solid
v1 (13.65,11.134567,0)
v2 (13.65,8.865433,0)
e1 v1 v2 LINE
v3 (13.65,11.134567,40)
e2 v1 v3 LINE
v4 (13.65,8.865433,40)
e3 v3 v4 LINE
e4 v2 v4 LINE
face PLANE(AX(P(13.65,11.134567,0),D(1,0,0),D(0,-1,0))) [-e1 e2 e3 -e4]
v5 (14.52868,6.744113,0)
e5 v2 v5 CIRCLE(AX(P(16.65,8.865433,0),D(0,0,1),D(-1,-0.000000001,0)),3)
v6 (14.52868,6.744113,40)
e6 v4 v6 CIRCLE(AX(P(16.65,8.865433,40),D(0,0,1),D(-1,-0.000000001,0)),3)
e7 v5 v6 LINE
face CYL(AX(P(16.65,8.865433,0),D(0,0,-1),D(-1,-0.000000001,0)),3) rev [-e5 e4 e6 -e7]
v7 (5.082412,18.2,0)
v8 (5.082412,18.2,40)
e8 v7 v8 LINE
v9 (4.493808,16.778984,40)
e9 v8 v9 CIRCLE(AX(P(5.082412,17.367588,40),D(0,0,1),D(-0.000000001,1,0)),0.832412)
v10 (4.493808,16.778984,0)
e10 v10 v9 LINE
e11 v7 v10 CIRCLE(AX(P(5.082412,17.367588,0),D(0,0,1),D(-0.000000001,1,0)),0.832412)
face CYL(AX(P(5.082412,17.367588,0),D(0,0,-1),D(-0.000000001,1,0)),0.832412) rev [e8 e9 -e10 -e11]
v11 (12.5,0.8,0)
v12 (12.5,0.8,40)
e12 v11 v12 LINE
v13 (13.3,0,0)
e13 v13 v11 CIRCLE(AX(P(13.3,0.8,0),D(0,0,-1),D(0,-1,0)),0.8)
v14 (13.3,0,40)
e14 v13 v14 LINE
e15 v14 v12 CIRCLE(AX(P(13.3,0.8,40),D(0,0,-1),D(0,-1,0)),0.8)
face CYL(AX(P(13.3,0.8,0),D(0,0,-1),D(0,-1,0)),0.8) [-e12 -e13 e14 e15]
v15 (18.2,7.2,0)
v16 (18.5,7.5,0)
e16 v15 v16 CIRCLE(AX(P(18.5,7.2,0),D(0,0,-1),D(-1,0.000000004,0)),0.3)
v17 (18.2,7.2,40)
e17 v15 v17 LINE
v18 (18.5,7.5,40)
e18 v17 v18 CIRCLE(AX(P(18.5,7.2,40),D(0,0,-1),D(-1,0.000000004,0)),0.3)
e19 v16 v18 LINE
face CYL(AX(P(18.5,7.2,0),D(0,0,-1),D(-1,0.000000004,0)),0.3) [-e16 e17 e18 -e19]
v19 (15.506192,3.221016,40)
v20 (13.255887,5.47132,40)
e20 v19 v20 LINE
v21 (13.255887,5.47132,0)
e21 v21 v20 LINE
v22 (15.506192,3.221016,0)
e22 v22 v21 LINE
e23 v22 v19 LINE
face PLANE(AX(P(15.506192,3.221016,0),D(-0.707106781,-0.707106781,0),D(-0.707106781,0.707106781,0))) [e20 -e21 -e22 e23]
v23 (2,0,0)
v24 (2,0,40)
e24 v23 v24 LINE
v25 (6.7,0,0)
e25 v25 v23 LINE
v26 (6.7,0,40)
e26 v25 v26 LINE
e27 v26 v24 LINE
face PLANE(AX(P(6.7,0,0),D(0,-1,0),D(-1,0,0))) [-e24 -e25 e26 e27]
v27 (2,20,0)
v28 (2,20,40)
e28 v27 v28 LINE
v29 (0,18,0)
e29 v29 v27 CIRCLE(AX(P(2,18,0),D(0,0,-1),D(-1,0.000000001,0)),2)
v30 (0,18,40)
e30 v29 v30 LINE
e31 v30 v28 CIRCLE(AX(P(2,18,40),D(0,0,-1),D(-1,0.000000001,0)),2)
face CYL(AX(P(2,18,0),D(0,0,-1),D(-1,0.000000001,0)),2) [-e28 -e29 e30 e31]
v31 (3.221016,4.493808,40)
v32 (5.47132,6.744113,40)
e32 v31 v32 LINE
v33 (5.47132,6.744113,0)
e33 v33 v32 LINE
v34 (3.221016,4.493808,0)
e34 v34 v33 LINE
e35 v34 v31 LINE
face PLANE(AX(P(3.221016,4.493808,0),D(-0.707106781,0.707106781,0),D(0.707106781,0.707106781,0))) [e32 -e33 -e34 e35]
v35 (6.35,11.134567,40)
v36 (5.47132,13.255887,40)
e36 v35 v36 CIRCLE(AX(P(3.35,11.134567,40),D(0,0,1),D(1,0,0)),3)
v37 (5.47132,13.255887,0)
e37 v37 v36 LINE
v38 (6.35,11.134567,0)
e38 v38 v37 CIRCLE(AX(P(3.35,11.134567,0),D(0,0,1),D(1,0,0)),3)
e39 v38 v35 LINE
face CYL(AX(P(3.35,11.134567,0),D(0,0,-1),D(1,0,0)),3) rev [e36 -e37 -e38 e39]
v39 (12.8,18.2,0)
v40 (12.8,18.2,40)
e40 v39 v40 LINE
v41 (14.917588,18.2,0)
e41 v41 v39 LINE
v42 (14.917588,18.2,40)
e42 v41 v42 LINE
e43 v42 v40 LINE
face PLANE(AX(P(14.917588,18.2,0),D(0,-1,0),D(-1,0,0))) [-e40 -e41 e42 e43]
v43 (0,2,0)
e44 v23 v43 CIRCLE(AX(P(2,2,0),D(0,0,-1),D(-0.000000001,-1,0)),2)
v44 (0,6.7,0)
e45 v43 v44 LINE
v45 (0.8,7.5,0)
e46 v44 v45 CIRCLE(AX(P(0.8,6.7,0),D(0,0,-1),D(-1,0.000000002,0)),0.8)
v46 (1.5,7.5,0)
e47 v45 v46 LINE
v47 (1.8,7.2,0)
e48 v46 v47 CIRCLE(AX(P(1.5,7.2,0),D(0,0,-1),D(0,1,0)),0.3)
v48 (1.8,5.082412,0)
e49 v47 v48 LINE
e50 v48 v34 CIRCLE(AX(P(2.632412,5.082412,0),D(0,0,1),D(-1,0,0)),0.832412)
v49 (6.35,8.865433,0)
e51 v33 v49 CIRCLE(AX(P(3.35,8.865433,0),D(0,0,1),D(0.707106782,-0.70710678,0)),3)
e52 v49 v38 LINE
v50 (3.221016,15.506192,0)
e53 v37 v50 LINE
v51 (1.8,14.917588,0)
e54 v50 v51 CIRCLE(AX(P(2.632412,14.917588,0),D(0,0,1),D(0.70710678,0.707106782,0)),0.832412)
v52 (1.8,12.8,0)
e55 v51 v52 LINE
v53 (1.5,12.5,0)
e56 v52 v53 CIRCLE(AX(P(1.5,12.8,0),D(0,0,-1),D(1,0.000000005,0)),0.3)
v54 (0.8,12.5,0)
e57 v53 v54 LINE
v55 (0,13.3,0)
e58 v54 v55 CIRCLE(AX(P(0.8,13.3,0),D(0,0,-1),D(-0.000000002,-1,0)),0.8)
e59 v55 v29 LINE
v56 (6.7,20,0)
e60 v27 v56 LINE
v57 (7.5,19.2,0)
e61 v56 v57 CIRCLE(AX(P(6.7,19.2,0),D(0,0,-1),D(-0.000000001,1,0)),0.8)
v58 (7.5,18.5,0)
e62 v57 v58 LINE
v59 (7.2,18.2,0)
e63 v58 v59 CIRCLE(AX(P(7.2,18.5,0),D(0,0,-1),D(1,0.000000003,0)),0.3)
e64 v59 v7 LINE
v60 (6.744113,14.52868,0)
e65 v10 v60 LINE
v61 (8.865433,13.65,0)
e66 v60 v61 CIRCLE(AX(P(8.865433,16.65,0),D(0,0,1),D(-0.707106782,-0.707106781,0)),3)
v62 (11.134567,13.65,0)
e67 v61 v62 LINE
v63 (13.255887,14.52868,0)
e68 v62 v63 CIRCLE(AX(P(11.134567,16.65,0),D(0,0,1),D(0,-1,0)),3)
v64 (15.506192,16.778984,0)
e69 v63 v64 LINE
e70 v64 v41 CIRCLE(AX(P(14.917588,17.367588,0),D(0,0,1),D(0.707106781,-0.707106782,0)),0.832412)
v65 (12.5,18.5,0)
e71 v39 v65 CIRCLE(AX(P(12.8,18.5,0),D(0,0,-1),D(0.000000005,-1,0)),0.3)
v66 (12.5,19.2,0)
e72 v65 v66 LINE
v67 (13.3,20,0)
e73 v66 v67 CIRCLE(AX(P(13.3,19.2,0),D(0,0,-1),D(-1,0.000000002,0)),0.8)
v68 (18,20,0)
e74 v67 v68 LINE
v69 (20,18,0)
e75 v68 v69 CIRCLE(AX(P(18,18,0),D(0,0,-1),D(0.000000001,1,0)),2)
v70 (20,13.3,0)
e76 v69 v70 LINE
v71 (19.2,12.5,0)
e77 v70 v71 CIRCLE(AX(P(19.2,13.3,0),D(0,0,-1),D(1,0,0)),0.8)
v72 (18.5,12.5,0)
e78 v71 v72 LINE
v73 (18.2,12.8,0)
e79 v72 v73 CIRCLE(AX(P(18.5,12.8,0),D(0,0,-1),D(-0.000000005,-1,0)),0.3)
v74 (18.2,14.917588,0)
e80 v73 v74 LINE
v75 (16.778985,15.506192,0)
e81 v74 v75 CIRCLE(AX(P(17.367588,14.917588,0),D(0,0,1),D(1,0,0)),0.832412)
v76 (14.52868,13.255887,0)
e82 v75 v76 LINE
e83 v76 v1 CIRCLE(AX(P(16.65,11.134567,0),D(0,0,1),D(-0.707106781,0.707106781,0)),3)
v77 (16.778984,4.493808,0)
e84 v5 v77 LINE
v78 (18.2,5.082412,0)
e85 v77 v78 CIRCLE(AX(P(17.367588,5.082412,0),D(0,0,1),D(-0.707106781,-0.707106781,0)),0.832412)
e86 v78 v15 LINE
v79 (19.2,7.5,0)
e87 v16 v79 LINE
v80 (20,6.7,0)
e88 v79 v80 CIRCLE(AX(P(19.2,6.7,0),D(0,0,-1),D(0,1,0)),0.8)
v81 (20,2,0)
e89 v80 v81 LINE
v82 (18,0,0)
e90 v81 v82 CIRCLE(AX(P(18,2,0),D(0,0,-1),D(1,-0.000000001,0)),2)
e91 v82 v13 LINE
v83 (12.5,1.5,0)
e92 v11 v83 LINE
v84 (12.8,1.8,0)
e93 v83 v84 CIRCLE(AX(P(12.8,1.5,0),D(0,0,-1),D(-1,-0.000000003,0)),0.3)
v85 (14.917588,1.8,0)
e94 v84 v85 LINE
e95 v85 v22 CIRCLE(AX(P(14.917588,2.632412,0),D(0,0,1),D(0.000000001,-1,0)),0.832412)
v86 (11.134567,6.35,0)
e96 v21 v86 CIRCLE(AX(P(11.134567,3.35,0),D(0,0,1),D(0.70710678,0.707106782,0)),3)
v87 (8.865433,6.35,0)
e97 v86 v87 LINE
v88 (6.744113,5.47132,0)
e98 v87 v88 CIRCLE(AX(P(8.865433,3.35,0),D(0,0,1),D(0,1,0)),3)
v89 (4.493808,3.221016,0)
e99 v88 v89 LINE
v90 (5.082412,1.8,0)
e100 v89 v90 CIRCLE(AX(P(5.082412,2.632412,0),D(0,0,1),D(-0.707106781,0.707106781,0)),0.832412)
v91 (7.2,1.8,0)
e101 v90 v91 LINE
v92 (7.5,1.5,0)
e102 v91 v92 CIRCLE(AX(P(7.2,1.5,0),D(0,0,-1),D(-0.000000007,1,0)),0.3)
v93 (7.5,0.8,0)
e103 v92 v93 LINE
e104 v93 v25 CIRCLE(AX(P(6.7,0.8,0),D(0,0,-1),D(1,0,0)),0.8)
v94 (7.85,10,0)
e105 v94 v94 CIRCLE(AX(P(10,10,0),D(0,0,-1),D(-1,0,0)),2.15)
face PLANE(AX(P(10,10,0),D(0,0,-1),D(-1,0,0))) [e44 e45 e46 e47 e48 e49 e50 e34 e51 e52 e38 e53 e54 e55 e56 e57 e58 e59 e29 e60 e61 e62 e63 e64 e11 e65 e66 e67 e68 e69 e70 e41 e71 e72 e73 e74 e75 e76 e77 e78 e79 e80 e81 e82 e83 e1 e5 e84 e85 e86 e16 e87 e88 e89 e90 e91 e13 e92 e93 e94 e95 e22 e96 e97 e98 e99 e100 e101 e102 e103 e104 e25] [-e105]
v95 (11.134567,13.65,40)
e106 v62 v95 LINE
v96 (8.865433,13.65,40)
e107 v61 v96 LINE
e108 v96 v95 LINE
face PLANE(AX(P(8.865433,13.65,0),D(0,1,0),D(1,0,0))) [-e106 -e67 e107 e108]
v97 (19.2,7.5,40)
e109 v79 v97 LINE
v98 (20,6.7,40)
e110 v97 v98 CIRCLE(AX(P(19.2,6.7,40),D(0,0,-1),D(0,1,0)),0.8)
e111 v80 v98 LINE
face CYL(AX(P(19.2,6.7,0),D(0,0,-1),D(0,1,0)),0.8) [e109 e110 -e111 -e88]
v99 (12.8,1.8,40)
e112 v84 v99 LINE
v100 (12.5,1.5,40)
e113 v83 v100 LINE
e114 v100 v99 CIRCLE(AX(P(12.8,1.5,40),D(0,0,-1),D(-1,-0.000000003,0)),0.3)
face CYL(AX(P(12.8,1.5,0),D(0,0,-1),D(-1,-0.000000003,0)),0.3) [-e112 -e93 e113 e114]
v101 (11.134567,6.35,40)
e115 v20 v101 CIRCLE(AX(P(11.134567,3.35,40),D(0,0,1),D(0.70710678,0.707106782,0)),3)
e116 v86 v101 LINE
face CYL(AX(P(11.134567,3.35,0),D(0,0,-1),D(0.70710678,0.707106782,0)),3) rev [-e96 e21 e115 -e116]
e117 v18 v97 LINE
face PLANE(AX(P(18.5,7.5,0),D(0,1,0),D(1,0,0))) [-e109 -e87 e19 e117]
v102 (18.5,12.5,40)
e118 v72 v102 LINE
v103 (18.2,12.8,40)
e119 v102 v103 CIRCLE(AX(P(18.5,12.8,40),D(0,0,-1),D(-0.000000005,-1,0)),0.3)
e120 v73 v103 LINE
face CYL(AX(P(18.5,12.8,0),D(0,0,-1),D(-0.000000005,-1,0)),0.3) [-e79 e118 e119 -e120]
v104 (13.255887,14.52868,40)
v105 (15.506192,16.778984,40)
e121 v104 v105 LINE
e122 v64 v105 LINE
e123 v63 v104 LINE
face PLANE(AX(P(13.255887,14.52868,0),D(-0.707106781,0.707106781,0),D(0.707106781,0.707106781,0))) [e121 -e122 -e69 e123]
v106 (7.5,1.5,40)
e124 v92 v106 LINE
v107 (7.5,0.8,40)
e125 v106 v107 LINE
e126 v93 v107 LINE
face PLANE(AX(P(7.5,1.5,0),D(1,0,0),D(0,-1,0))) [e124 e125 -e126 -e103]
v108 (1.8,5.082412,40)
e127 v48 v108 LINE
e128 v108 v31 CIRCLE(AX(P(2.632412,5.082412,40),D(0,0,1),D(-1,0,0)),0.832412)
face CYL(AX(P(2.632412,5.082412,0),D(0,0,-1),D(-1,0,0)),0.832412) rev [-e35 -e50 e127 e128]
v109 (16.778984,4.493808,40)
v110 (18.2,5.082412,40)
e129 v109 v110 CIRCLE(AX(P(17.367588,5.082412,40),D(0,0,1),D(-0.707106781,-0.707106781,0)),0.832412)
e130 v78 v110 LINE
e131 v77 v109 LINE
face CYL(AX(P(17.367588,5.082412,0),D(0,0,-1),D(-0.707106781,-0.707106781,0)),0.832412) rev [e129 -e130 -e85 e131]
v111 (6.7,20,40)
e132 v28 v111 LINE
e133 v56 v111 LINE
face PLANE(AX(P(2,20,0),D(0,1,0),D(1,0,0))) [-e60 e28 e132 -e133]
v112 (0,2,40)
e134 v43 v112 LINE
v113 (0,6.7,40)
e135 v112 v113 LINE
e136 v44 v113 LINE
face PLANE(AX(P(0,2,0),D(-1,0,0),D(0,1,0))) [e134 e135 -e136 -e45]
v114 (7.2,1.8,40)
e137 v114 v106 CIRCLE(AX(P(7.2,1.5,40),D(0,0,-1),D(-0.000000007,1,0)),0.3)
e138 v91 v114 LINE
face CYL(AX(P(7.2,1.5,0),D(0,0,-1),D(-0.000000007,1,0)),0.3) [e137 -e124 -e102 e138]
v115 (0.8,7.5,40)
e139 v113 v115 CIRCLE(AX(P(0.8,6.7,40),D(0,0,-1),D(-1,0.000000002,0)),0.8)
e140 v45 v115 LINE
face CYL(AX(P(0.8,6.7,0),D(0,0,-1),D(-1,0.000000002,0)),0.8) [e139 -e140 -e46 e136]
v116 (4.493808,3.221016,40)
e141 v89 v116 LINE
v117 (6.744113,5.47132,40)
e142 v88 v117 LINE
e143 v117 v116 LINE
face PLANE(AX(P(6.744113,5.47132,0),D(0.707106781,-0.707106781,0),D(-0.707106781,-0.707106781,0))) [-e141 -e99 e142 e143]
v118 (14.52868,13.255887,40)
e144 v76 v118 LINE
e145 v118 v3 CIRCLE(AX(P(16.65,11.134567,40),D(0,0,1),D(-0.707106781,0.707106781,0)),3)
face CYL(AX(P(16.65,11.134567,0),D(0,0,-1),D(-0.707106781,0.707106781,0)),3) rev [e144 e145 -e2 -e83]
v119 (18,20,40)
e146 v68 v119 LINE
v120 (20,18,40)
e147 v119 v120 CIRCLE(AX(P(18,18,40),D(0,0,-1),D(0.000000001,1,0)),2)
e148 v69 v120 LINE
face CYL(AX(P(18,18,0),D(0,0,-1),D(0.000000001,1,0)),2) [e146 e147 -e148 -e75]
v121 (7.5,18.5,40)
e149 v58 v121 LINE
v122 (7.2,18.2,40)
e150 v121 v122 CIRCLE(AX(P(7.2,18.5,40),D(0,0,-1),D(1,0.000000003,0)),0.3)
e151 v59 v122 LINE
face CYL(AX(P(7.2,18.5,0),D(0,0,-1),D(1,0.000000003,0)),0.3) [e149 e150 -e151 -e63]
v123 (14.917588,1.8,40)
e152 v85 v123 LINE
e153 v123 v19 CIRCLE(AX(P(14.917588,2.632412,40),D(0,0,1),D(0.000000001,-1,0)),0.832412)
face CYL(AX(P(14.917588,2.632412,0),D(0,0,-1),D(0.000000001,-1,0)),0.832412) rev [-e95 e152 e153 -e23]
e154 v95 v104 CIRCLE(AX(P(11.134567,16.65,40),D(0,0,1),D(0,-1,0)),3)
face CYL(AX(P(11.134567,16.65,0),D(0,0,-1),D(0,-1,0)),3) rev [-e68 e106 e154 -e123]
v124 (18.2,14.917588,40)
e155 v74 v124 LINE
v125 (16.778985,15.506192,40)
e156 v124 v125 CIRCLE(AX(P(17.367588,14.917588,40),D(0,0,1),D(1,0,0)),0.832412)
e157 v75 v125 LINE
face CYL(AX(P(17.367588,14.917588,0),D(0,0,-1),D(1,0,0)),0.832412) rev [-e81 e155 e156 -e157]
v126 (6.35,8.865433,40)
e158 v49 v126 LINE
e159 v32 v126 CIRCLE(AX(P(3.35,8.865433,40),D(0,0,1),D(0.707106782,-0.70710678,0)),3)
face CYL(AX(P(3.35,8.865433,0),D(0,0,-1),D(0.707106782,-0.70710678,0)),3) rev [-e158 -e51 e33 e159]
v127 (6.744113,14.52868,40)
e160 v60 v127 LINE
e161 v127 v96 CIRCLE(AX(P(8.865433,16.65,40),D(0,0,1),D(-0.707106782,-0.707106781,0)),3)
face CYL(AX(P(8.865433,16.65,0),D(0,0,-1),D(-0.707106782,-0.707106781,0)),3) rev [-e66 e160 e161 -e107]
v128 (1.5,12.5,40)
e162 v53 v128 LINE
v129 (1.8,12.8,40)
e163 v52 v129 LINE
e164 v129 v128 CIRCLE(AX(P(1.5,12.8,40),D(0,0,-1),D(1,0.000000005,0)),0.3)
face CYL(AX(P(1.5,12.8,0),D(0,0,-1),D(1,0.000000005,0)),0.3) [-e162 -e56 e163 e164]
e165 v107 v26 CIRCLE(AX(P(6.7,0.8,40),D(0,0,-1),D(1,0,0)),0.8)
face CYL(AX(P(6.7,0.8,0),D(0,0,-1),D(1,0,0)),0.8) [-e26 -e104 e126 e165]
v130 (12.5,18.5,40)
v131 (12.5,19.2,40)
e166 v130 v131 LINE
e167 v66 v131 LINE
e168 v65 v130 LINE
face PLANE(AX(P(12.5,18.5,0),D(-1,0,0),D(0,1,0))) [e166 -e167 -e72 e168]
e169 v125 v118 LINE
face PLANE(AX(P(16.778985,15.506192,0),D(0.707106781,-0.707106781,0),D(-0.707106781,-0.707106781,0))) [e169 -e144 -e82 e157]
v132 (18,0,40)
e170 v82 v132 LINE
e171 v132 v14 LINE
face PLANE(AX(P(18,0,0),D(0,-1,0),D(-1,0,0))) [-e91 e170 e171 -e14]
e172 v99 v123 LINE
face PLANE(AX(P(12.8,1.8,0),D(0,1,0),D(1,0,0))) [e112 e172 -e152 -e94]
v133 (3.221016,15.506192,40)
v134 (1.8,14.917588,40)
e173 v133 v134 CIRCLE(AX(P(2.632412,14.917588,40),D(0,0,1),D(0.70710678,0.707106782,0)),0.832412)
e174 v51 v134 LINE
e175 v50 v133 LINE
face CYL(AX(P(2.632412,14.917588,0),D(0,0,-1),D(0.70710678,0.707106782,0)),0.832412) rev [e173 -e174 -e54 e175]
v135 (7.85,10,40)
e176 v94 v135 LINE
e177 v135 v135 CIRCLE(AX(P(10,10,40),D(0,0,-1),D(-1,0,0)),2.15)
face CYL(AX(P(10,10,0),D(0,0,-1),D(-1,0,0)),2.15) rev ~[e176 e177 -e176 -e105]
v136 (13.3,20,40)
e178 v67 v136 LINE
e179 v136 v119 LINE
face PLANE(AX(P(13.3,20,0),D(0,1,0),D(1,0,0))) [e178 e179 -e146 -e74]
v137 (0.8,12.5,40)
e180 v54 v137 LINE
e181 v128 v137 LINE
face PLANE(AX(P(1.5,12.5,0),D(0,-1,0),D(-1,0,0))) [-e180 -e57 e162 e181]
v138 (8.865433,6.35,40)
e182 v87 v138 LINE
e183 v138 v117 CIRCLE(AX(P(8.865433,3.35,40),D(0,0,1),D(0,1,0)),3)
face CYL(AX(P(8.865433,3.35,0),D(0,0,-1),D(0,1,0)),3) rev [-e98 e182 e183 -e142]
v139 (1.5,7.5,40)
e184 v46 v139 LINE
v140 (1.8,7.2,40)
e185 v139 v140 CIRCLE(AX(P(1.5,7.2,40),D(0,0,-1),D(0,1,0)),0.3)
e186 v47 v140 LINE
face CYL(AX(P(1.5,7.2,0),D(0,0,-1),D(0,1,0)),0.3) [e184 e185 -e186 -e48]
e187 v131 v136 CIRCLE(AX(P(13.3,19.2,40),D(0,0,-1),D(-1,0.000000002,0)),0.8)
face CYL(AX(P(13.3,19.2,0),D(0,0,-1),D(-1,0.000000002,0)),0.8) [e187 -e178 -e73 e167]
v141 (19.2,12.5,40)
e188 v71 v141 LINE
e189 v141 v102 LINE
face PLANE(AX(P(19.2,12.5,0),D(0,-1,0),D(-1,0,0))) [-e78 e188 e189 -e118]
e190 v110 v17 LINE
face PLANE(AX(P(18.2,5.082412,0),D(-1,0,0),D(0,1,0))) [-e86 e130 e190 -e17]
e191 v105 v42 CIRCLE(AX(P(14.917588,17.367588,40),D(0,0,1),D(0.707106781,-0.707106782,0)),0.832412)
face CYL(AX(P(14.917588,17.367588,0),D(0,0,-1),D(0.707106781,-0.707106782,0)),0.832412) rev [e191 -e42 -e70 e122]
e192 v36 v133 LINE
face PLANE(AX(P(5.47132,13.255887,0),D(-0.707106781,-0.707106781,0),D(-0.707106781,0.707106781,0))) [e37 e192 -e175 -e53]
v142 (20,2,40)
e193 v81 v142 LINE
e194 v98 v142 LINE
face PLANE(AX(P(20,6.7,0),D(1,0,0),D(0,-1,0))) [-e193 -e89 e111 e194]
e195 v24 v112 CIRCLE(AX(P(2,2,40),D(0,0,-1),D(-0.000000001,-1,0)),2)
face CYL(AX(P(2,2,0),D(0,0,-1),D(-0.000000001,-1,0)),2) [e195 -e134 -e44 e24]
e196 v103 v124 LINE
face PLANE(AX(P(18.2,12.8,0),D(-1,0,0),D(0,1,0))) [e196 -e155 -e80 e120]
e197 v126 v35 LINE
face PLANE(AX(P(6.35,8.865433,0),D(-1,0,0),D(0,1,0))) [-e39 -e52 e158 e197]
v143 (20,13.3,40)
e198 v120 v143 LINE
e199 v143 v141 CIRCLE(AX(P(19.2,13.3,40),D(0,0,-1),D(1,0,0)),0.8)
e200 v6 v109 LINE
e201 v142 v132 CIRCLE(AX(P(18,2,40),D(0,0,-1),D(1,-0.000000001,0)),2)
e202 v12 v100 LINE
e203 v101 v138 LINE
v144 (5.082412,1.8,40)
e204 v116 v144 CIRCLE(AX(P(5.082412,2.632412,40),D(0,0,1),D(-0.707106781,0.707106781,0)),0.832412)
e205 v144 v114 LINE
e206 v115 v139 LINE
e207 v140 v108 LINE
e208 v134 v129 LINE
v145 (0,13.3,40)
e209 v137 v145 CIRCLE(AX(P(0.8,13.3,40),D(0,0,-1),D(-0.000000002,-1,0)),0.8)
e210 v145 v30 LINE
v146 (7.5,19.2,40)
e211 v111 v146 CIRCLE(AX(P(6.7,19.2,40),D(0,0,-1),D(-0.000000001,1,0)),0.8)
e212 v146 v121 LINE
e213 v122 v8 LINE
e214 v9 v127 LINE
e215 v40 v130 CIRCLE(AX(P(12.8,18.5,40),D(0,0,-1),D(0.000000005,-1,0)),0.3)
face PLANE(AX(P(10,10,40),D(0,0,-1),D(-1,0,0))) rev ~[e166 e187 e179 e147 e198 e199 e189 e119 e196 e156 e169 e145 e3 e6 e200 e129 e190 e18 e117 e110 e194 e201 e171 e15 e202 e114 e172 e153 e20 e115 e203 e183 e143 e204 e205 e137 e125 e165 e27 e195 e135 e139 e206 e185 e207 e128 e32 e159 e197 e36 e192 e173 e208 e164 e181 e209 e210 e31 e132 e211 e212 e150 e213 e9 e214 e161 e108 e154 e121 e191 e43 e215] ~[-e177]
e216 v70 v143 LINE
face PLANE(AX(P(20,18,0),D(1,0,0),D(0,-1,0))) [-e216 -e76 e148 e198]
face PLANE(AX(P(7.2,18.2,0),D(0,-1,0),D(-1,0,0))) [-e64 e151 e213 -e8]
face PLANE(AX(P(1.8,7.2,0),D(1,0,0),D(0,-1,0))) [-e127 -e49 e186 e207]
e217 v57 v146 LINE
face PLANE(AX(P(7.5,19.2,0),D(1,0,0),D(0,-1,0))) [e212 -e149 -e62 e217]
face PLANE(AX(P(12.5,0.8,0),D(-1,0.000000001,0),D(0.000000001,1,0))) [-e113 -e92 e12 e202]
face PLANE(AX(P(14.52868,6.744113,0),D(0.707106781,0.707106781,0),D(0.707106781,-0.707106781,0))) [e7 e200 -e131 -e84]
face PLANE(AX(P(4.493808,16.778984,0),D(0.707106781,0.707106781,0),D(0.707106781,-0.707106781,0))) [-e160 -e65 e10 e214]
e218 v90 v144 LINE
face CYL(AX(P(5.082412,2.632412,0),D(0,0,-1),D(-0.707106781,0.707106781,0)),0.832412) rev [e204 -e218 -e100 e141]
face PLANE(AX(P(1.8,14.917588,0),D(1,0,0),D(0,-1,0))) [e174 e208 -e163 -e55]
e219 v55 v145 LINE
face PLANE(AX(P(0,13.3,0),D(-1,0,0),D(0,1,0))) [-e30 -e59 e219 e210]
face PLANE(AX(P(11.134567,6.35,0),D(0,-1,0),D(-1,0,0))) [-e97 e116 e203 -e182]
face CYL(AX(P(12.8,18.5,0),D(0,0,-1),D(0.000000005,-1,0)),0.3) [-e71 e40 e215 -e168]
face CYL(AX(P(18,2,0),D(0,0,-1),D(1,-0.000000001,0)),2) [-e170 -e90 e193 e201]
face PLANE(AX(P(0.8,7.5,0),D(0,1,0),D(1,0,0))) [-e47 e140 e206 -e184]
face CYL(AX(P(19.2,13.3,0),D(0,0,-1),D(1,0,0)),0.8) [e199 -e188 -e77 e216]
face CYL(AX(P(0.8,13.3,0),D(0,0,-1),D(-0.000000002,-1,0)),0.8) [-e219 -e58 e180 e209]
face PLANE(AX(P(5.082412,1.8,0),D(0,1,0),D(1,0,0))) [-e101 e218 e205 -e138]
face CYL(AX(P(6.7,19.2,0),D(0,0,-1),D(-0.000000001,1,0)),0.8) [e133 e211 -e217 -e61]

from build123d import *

# Parameters (mm, degrees)
SKETCH1_R           = 2.15
BOSS_EXTRUDE1_DEPTH = 40


with BuildPart() as part:
    # Sketch1 → Boss-Extrude1 (new body)
    with BuildSketch(Plane(origin=(0, 0, 0), x_dir=(-1, 0, 0), z_dir=(0, 0, -1))):
        with BuildLine():
            Line((-12.499999997, 0.800000003), (-12.499999998, 1.500000003))
            ThreePointArc((-12.499999998, 1.500000003), (-12.587867964, 1.712132039), (-12.8, 1.800000005))
            Line((-12.8, 1.800000005), (-14.9175884, 1.800000005))
            ThreePointArc((-14.9175884, 1.800000005), (-15.686636445, 2.313861481), (-15.506192291, 3.221015502))
            Line((-15.506192291, 3.221015502), (-13.255887451, 5.471320342))
            ThreePointArc((-13.255887451, 5.471320342), (-12.282617405, 6.121638595), (-11.134567109, 6.349999998))
            Line((-11.134567109, 6.349999998), (-8.865432906, 6.349999998))
            ThreePointArc((-8.865432906, 6.349999998), (-7.717382611, 6.121638596), (-6.744112565, 5.471320342))
            Line((-6.744112565, 5.471320342), (-4.493807727, 3.221015504))
            ThreePointArc((-4.493807727, 3.221015504), (-4.313363573, 2.313861481), (-5.082411619, 1.800000005))
            Line((-5.082411619, 1.800000005), (-7.20000001, 1.800000005))
            ThreePointArc((-7.20000001, 1.800000005), (-7.412132045, 1.71213204), (-7.50000001, 1.500000005))
            Line((-7.50000001, 1.500000005), (-7.50000001, 0.8))
            ThreePointArc((-7.50000001, 0.8), (-7.265685435, 0.234314575), (-6.70000001, 0))
            Line((-6.70000001, 0), (-2, 0))
            ThreePointArc((-2, 0), (-0.585786438, 0.585786438), (0, 2))
            Line((0, 2), (0, 6.699999998))
            ThreePointArc((0, 6.699999998), (-0.234314576, 7.265685424), (-0.800000003, 7.5))
            Line((-0.800000003, 7.5), (-1.500000007, 7.5))
            ThreePointArc((-1.500000007, 7.5), (-1.712132044, 7.412132033), (-1.80000001, 7.199999997))
            Line((-1.80000001, 7.199999997), (-1.80000001, 5.082411604))
            ThreePointArc((-1.80000001, 5.082411604), (-2.313861485, 4.313363559), (-3.221015507, 4.493807713))
            Line((-3.221015507, 4.493807713), (-5.471320347, 6.744112553))
            ThreePointArc((-5.471320347, 6.744112553), (-6.1216386, 7.717382599), (-6.350000003, 8.865432896))
            Line((-6.350000003, 8.865432896), (-6.350000003, 11.134567105))
            ThreePointArc((-6.350000003, 11.134567105), (-6.121638601, 12.2826174), (-5.471320347, 13.255887446))
            Line((-5.471320347, 13.255887446), (-3.221015511, 15.506192282))
            ThreePointArc((-3.221015511, 15.506192282), (-2.313861487, 15.686636436), (-1.80000001, 14.917588389))
            Line((-1.80000001, 14.917588389), (-1.80000001, 12.799999998))
            ThreePointArc((-1.80000001, 12.799999998), (-1.712132045, 12.587867963), (-1.50000001, 12.499999997))
            Line((-1.50000001, 12.499999997), (-0.8, 12.499999997))
            ThreePointArc((-0.8, 12.499999997), (-0.234314575, 12.734314573), (0, 13.299999998))
            Line((0, 13.299999998), (0, 18))
            ThreePointArc((0, 18), (-0.585786438, 19.414213562), (-2, 20))
            Line((-2, 20), (-6.700000008, 20))
            ThreePointArc((-6.700000008, 20), (-7.265685435, 19.765685424), (-7.50000001, 19.199999998))
            Line((-7.50000001, 19.199999998), (-7.50000001, 18.500000005))
            ThreePointArc((-7.50000001, 18.500000005), (-7.412132044, 18.287867969), (-7.200000008, 18.200000003))
            Line((-7.200000008, 18.200000003), (-5.082411595, 18.200000003))
            ThreePointArc((-5.082411595, 18.200000003), (-4.313363547, 17.686138525), (-4.493807702, 16.7789845))
            Line((-4.493807702, 16.7789845), (-6.744112543, 14.528679659))
            ThreePointArc((-6.744112543, 14.528679659), (-7.717382589, 13.878361405), (-8.865432885, 13.650000003))
            Line((-8.865432885, 13.650000003), (-11.134567111, 13.650000003))
            ThreePointArc((-11.134567111, 13.650000003), (-12.282617406, 13.878361405), (-13.255887452, 14.528679658))
            Line((-13.255887452, 14.528679658), (-15.506192292, 16.778984498))
            ThreePointArc((-15.506192292, 16.778984498), (-15.686636447, 17.686138525), (-14.917588397, 18.200000002))
            Line((-14.917588397, 18.200000002), (-12.799999998, 18.200000003))
            ThreePointArc((-12.799999998, 18.200000003), (-12.587867963, 18.287867968), (-12.499999997, 18.500000002))
            Line((-12.499999997, 18.500000002), (-12.499999997, 19.2))
            ThreePointArc((-12.499999997, 19.2), (-12.734314573, 19.765685425), (-13.299999998, 20))
            Line((-13.299999998, 20), (-18, 20))
            ThreePointArc((-18, 20), (-19.414213562, 19.414213562), (-20, 18))
            Line((-20, 18), (-20, 13.3))
            ThreePointArc((-20, 13.3), (-19.765685424, 12.734314573), (-19.199999998, 12.499999997))
            Line((-19.199999998, 12.499999997), (-18.500000003, 12.499999997))
            ThreePointArc((-18.500000003, 12.499999997), (-18.287867967, 12.587867964), (-18.2, 12.8))
            Line((-18.2, 12.8), (-18.2, 14.91758839))
            ThreePointArc((-18.2, 14.91758839), (-17.686138525, 15.686636435), (-16.778984504, 15.506192281))
            Line((-16.778984504, 15.506192281), (-14.528679657, 13.255887434))
            ThreePointArc((-14.528679657, 13.255887434), (-13.878361403, 12.282617388), (-13.65, 11.134567091))
            Line((-13.65, 11.134567091), (-13.65, 8.865432887))
            ThreePointArc((-13.65, 8.865432887), (-13.878361403, 7.717382591), (-14.528679656, 6.744112546))
            Line((-14.528679656, 6.744112546), (-16.778984496, 4.493807706))
            ThreePointArc((-16.778984496, 4.493807706), (-17.686138522, 4.313363551), (-18.2, 5.0824116))
            Line((-18.2, 5.0824116), (-18.2, 7.2))
            ThreePointArc((-18.2, 7.2), (-18.287867966, 7.412132034), (-18.5, 7.5))
            Line((-18.5, 7.5), (-19.2, 7.5))
            ThreePointArc((-19.2, 7.5), (-19.765685425, 7.265685425), (-20, 6.7))
            Line((-20, 6.7), (-20, 2))
            ThreePointArc((-20, 2), (-19.414213562, 0.585786438), (-18, 0))
            Line((-18, 0), (-13.3, 0))
            ThreePointArc((-13.3, 0), (-12.734314573, 0.234314576), (-12.499999997, 0.800000003))
        make_face()
        with Locations((-10, 10)):
            Circle(SKETCH1_R, mode=Mode.SUBTRACT)
    extrude(amount=-BOSS_EXTRUDE1_DEPTH)


solid = part.part
